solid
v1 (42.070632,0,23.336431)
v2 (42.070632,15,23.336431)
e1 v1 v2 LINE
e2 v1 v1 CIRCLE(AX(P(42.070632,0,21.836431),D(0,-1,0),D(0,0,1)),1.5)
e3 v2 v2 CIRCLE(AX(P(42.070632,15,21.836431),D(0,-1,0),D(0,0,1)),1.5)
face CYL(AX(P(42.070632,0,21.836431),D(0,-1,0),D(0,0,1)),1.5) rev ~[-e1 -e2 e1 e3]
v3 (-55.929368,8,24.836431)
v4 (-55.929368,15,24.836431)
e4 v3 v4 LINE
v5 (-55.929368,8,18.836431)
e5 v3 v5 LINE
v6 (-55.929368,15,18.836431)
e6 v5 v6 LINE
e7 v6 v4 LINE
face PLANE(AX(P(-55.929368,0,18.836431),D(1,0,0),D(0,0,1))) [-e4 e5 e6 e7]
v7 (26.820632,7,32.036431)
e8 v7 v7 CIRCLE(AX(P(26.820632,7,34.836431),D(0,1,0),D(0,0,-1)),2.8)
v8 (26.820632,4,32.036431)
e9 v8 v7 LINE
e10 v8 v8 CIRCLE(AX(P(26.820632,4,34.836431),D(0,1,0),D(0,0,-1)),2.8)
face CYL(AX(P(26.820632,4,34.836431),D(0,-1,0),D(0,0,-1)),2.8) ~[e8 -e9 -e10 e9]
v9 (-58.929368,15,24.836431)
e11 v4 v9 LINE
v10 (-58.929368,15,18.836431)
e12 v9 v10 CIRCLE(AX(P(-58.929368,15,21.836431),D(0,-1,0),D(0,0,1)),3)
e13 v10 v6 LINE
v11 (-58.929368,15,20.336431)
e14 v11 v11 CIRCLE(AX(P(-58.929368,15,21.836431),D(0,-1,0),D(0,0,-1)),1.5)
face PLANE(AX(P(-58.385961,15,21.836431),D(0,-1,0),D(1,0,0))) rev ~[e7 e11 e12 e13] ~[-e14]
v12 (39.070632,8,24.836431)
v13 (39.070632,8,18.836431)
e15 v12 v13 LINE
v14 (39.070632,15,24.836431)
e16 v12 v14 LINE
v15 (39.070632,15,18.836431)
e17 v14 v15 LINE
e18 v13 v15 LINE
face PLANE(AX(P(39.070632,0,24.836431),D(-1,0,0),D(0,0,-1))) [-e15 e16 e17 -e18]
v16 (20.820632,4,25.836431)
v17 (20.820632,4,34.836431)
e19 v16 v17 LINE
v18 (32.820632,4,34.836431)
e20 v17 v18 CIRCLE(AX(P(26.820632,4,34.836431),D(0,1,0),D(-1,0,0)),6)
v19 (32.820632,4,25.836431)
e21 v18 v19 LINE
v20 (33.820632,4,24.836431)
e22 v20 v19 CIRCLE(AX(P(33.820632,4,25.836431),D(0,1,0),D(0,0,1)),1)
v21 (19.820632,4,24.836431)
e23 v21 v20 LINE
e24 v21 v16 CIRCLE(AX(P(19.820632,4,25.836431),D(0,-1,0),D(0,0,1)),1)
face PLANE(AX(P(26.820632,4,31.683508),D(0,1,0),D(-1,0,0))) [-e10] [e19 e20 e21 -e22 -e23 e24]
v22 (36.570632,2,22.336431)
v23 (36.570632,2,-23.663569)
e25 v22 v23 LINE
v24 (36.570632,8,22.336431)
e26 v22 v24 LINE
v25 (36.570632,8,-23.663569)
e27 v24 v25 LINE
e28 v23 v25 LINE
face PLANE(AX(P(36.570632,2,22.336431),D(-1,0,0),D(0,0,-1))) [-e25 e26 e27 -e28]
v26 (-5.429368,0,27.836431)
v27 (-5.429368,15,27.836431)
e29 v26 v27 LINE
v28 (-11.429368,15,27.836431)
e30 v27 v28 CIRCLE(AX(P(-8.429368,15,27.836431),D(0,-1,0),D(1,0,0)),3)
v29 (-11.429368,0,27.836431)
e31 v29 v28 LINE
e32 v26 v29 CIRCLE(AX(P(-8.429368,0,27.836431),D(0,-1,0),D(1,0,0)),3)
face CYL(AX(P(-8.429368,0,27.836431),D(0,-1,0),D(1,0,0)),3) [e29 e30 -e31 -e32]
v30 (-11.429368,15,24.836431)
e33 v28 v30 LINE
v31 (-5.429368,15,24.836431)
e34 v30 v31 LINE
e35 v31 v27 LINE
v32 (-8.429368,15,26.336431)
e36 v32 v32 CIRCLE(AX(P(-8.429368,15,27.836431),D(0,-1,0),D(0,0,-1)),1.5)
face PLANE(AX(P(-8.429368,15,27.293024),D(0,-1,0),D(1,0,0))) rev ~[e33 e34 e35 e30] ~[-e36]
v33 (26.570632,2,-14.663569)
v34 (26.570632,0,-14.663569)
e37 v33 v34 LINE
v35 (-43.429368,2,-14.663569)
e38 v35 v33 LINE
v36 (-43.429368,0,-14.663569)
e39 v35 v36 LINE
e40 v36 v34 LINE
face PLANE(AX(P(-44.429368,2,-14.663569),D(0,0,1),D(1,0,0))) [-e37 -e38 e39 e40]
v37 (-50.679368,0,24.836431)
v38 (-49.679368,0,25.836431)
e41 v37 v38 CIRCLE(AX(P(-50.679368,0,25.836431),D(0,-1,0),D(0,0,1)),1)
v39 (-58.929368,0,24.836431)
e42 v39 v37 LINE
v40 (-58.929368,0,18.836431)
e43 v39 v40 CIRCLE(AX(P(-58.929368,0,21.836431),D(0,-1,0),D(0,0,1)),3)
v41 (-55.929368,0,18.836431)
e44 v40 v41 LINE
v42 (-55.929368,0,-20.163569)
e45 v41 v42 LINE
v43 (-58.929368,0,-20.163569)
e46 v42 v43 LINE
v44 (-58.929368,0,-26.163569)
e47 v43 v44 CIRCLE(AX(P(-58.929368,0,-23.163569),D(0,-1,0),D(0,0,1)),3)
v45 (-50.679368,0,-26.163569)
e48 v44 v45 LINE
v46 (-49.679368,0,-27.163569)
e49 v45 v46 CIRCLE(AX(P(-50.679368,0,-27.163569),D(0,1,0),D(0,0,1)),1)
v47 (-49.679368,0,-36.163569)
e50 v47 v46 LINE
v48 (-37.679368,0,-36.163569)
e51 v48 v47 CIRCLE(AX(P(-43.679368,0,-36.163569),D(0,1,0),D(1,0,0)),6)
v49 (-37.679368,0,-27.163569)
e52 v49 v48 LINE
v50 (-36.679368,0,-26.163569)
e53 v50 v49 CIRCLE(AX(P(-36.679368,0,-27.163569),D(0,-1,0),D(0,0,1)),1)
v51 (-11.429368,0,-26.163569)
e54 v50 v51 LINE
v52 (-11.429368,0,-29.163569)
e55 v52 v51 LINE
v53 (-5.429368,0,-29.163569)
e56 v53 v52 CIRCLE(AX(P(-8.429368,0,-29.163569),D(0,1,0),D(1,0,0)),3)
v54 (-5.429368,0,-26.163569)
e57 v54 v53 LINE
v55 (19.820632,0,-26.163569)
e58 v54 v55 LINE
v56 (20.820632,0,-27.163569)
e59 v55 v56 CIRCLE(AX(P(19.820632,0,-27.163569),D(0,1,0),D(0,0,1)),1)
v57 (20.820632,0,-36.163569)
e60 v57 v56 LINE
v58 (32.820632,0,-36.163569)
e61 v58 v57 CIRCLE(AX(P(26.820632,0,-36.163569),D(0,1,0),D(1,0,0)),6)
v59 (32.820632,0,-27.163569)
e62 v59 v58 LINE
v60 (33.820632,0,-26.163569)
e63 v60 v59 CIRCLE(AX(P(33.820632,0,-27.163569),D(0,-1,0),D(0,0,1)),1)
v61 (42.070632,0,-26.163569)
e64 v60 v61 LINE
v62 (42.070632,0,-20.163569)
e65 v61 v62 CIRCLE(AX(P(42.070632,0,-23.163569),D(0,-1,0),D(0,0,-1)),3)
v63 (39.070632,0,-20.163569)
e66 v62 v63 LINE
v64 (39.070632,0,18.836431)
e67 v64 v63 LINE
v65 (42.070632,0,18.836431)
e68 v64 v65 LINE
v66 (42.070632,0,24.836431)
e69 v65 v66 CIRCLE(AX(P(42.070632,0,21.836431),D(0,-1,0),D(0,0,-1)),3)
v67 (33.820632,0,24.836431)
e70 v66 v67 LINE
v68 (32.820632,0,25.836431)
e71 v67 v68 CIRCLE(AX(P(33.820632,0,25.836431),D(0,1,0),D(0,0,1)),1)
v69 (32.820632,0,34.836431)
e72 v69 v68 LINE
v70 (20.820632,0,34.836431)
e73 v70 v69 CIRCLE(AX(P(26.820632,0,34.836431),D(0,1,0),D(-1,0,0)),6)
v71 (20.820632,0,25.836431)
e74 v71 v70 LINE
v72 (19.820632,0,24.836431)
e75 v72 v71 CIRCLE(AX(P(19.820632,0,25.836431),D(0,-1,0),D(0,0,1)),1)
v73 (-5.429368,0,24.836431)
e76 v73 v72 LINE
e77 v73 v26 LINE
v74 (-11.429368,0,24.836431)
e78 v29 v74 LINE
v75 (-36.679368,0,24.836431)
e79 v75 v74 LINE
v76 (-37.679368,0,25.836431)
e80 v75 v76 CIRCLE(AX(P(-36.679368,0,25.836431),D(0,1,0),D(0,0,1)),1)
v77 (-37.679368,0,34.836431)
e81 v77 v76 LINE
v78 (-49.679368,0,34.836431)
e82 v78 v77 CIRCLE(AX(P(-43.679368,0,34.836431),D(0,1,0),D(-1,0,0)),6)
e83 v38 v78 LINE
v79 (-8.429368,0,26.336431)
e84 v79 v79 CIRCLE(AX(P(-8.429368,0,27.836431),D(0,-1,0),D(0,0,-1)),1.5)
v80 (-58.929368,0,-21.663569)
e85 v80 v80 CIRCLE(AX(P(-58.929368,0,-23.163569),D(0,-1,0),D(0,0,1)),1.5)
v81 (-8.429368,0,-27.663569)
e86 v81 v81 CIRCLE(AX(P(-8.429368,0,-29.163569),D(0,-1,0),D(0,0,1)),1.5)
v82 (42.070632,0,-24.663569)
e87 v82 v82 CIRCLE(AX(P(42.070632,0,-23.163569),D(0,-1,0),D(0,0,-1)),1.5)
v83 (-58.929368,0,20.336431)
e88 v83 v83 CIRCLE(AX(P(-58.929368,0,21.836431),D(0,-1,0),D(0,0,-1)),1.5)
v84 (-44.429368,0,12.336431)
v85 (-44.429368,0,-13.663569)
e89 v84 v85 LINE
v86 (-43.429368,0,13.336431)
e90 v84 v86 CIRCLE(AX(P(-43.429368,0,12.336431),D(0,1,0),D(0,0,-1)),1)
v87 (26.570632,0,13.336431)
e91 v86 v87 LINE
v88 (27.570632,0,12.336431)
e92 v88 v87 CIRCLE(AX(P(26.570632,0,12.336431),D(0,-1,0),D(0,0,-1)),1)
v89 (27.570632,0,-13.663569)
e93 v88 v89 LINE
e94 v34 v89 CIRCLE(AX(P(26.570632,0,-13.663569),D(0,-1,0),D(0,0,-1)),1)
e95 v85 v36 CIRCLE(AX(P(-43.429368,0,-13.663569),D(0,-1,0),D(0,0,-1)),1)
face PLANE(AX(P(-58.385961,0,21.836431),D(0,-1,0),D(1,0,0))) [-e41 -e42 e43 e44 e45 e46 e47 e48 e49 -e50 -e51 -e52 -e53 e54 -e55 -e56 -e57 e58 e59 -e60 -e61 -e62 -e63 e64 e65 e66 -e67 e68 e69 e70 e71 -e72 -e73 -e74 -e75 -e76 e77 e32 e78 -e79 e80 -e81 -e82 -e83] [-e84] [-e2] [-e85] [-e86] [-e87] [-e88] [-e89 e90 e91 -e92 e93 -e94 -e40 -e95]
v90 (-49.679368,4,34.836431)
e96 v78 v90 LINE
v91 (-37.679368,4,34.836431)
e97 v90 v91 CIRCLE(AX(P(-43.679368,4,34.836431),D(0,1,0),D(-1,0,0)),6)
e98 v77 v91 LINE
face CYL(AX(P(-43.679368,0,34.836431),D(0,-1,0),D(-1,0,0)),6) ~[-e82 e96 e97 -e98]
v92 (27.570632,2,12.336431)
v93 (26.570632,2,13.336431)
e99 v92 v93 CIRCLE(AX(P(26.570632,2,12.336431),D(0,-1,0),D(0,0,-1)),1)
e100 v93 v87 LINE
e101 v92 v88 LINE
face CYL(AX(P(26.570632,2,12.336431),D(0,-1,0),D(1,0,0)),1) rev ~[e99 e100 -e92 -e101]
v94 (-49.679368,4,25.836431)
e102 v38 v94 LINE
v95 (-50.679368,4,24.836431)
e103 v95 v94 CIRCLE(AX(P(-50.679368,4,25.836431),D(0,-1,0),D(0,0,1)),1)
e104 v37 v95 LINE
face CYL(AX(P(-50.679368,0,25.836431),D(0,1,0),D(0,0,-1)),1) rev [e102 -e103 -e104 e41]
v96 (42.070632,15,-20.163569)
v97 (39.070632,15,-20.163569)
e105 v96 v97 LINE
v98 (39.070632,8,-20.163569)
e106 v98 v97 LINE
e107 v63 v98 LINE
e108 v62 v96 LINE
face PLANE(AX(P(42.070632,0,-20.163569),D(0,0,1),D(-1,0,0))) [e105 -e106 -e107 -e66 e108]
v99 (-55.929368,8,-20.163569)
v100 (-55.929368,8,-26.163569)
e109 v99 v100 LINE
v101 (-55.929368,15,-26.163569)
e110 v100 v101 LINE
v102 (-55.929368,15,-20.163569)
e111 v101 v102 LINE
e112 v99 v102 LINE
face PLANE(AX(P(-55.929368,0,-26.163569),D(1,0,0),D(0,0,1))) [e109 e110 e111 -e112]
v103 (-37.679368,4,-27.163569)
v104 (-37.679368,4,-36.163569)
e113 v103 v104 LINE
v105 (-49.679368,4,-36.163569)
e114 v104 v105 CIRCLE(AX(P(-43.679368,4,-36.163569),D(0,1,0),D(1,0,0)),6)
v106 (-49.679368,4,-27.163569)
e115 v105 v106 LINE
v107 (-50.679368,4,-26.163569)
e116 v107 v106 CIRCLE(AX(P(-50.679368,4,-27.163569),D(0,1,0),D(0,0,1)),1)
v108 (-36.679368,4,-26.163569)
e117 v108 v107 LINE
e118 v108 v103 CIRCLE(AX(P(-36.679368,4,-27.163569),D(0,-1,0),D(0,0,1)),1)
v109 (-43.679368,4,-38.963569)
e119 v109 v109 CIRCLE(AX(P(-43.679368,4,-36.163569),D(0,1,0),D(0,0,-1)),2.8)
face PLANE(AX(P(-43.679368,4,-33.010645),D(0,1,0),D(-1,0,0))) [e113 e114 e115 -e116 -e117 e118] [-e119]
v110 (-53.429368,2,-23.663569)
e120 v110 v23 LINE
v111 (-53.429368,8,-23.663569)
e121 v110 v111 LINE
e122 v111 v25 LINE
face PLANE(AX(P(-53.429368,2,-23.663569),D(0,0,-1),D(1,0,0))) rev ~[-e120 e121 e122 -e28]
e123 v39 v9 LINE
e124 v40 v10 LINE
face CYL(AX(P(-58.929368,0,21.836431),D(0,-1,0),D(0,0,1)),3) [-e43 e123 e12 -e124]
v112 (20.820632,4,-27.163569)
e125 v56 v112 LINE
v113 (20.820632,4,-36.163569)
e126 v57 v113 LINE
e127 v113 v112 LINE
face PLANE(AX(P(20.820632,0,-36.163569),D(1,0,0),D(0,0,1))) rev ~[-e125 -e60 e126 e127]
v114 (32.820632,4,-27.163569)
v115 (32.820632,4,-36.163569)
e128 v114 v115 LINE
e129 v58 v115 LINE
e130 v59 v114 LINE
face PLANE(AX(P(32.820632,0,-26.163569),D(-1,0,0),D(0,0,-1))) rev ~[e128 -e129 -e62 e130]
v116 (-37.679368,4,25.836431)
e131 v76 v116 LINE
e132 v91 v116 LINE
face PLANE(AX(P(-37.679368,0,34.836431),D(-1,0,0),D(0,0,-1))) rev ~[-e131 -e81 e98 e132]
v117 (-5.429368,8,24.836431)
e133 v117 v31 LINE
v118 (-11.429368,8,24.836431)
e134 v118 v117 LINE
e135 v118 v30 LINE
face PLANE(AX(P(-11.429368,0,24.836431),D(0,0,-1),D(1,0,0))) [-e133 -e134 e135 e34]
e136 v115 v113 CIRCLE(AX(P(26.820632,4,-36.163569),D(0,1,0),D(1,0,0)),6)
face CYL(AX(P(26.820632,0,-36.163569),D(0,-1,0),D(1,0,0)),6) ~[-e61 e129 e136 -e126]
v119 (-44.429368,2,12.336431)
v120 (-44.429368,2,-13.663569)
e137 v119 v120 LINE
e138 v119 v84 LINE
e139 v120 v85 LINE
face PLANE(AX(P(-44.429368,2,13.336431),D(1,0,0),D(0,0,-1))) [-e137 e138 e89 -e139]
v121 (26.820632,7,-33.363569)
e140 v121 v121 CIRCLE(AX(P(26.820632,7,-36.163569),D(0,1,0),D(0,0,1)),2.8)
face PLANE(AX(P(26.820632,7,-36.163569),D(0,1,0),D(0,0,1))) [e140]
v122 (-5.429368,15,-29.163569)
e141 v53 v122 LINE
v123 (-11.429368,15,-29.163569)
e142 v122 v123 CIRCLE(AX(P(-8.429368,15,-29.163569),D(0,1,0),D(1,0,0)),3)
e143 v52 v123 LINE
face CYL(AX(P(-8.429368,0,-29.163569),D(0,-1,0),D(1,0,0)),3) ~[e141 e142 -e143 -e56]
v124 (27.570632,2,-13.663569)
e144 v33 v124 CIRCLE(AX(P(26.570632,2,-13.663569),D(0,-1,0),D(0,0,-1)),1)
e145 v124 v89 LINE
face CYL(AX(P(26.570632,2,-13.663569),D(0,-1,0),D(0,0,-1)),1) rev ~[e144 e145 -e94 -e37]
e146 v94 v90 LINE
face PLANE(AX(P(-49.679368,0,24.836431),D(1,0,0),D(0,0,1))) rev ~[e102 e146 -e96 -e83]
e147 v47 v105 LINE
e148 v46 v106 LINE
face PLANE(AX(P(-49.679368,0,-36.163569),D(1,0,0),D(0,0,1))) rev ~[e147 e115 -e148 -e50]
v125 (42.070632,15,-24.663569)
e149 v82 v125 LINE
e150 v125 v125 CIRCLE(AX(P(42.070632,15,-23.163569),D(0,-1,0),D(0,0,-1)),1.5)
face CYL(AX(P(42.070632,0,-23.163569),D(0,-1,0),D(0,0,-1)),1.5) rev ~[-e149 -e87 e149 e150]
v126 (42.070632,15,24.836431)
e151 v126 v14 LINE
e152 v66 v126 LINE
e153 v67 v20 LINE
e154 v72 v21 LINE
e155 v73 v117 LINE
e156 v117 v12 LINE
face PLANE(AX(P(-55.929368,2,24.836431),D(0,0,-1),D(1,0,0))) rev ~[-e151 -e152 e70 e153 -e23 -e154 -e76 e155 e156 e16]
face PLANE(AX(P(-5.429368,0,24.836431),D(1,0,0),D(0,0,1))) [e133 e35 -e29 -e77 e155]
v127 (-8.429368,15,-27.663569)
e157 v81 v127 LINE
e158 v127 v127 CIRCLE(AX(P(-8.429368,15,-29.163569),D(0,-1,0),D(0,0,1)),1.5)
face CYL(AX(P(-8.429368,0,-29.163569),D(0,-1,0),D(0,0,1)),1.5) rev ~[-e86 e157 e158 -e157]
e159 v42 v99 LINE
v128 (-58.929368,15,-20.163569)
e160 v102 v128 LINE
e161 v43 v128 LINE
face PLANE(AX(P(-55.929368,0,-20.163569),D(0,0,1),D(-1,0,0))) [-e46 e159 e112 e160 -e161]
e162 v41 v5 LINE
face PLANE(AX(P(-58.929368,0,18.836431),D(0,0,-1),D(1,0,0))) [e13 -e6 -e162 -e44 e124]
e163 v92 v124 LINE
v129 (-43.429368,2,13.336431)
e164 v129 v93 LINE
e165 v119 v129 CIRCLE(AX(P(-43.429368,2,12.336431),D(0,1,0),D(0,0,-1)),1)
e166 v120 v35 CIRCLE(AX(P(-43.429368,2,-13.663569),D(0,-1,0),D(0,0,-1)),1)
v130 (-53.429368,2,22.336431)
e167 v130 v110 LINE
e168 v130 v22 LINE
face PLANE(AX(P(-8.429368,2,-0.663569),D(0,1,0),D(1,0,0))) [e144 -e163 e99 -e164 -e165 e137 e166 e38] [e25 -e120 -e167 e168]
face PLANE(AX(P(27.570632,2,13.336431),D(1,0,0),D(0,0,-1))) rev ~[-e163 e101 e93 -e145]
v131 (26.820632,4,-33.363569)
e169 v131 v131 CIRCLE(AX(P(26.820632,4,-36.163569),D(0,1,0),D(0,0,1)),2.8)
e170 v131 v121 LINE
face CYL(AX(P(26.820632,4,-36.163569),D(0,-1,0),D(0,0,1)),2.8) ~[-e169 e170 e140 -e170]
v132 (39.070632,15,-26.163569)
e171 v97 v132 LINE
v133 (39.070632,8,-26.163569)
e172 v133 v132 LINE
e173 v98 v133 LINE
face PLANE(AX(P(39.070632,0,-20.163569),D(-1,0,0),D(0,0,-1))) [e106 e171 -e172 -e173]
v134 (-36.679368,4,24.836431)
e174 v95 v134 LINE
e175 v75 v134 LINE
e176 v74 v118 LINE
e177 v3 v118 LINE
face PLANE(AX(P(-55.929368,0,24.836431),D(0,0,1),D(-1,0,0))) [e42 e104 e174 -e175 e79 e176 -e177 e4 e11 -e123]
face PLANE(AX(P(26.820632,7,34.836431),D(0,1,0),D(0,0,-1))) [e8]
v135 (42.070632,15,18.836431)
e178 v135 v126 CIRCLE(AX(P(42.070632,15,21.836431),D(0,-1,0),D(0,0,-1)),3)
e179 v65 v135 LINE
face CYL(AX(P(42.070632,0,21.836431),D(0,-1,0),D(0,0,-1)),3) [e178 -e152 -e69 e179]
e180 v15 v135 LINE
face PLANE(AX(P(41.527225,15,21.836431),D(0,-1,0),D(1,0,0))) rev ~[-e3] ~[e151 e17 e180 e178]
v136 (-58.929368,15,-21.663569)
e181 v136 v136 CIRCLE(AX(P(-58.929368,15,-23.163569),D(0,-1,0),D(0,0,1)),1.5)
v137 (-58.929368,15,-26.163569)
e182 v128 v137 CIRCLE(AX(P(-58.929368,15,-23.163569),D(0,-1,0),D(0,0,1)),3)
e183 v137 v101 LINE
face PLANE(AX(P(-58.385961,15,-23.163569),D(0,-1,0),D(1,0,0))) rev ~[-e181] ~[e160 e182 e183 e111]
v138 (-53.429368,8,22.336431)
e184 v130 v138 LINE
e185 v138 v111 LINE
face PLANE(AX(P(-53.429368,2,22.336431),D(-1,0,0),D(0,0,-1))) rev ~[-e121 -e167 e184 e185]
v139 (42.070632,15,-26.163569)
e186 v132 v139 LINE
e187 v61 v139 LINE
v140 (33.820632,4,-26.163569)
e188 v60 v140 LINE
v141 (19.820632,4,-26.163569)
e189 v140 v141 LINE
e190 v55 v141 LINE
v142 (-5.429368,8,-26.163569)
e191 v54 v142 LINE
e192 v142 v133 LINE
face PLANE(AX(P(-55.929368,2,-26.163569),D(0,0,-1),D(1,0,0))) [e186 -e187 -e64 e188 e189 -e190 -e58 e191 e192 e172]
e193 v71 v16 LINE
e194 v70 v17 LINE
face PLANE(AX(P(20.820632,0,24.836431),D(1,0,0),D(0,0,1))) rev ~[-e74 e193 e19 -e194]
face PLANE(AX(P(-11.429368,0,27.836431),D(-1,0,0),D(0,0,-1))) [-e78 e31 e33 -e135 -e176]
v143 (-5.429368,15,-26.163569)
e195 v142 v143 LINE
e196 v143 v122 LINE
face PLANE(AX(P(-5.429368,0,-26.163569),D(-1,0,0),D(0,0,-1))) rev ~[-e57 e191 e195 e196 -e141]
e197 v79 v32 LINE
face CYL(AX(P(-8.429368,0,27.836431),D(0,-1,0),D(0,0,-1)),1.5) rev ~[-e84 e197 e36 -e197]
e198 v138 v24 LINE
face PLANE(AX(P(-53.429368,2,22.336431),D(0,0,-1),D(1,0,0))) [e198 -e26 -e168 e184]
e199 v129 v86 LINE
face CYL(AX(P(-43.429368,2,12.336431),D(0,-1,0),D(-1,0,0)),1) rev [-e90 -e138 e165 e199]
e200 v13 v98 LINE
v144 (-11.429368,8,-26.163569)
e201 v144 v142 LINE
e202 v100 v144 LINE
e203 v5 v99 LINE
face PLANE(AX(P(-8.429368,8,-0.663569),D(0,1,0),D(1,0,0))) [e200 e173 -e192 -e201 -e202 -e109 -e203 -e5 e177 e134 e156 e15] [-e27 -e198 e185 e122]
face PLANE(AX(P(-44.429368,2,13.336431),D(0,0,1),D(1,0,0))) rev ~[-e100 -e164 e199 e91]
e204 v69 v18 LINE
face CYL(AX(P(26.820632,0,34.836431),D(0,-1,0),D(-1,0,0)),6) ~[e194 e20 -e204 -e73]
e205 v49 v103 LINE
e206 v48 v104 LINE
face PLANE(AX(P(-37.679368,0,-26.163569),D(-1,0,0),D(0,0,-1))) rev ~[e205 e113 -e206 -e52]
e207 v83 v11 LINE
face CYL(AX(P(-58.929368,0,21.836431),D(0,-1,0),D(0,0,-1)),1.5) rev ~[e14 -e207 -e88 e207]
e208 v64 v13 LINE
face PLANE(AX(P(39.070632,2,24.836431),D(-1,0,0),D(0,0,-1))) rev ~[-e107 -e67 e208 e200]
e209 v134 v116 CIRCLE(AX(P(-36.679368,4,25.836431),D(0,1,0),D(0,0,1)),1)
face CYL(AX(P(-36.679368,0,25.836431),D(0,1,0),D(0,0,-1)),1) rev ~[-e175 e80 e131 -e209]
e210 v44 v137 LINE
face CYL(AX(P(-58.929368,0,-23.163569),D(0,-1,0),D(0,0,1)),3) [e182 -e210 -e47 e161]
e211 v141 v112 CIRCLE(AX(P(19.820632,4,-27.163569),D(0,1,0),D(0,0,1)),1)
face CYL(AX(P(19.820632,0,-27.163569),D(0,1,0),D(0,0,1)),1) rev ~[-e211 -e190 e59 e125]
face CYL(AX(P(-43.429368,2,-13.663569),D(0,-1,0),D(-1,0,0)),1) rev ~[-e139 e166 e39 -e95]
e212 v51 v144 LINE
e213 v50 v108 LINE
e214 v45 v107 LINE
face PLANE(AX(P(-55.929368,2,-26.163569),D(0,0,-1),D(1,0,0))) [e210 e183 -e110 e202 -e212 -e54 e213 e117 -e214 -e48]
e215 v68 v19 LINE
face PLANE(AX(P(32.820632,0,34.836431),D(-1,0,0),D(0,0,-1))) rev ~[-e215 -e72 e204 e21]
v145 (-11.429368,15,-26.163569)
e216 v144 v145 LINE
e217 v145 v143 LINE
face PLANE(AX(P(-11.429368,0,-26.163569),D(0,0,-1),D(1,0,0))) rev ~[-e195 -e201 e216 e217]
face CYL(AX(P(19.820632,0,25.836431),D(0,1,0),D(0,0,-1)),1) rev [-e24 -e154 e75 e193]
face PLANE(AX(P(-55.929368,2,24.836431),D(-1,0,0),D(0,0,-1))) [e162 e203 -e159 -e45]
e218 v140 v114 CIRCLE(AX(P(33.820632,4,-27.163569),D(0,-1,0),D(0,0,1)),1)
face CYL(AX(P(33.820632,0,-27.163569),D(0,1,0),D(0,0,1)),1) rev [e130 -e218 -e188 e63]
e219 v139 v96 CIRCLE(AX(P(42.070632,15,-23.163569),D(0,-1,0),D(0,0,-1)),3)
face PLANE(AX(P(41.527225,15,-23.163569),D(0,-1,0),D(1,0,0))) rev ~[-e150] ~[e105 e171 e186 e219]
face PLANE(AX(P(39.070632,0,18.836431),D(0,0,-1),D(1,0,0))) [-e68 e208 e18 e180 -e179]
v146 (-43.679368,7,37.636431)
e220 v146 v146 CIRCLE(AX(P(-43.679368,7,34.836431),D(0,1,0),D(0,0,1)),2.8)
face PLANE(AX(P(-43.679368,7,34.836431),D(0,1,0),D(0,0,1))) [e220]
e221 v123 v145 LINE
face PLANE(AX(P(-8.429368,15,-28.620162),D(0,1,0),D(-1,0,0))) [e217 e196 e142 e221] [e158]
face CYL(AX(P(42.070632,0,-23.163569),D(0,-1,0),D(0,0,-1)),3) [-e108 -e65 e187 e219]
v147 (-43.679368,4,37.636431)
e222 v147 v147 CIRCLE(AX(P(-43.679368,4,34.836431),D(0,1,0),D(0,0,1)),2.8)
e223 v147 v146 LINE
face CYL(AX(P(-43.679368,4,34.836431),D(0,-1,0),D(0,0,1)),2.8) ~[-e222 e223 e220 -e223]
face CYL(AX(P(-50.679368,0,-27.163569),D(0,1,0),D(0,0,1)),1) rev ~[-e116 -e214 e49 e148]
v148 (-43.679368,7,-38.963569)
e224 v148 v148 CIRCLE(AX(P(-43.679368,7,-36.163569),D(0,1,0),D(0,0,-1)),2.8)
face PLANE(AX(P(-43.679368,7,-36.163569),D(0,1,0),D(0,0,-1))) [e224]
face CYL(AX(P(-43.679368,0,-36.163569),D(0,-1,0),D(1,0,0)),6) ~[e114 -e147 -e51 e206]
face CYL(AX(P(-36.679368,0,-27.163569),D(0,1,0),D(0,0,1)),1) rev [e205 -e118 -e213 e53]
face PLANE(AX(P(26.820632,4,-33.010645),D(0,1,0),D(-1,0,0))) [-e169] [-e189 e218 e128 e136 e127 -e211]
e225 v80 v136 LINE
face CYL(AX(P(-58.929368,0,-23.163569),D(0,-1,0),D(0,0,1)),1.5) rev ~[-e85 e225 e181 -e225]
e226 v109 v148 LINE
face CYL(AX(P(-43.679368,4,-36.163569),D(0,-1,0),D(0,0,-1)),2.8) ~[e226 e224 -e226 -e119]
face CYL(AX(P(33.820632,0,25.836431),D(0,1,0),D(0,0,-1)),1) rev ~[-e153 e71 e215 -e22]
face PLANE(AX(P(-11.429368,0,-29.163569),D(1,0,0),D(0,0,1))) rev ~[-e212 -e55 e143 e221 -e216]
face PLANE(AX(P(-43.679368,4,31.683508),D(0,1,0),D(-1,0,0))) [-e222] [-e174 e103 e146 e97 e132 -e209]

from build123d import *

# Parameters (mm, degrees)
SKETCH1_W           = 95
SKETCH1_H           = 51
BOSS_EXTRUDE1_DEPTH = 2
SKETCH2_W           = 95
SKETCH2_H           = 51
SKETCH2_W_2         = 90
SKETCH2_H_2         = 46
BOSS_EXTRUDE2_DEPTH = 6
SKETCH3_W           = 72
SKETCH3_H           = 28
CUT_EXTRUDE1_DEPTH  = 63.03729958
BOSS_EXTRUDE3_DEPTH = 4
SKETCH6_R           = 2.8
BOSS_EXTRUDE4_DEPTH = 3
SKETCH8_R           = 1.5
BOSS_EXTRUDE6_DEPTH = 15
FILLET1_R           = 1


with BuildPart() as part:
    # Sketch1 → Boss-Extrude1 (new body)
    with BuildSketch(Plane(origin=(0, 0, 0), x_dir=(1, 0, 0), z_dir=(0, 1, 0))):
        with Locations((-8.42936803, 0.663568773)):
            Rectangle(SKETCH1_W, SKETCH1_H)
    extrude(amount=BOSS_EXTRUDE1_DEPTH)

    # Sketch2 → Boss-Extrude2 (add)
    with BuildSketch(Plane(origin=(0, 2, 0), x_dir=(1, 0, 0), z_dir=(0, 1, 0))):
        with Locations((-8.42936803, 0.663568773)):
            Rectangle(SKETCH2_W, SKETCH2_H)
        with Locations((-8.42936803, 0.663568773)):
            Rectangle(SKETCH2_W_2, SKETCH2_H_2, mode=Mode.SUBTRACT)
    extrude(amount=BOSS_EXTRUDE2_DEPTH)

    # Sketch3 → Cut-Extrude1 (cut, through all)
    with BuildSketch(Plane(origin=(0, 2, 0), x_dir=(1, 0, 0), z_dir=(0, 1, 0))):
        with Locations((-8.42936803, 0.663568773)):
            Rectangle(SKETCH3_W, SKETCH3_H)
    extrude(amount=-CUT_EXTRUDE1_DEPTH, mode=Mode.SUBTRACT)

    # Sketch5 → Boss-Extrude3 (add)
    with BuildSketch(Plane.XZ):
        with BuildLine():
            Line((-49.67936803, -26.163568773), (-37.67936803, -26.163568773))
            Line((-37.67936803, -26.163568773), (-37.67936803, -36.163568773))
            ThreePointArc((-37.67936803, -36.163568773), (-43.67936803, -42.163568773), (-49.67936803, -36.163568773))
            Line((-49.67936803, -36.163568773), (-49.67936803, -26.163568773))
        make_face()
        with BuildLine():
            Line((-49.67936803, 24.836431227), (-49.67936803, 34.836431227))
            ThreePointArc((-49.67936803, 34.836431227), (-43.67936803, 40.836431227), (-37.67936803, 34.836431227))
            Line((-37.67936803, 34.836431227), (-37.67936803, 24.836431227))
            Line((-37.67936803, 24.836431227), (-49.67936803, 24.836431227))
        make_face()
        with BuildLine():
            Line((32.82063197, -26.163568773), (32.82063197, -36.163568773))
            ThreePointArc((32.82063197, -36.163568773), (26.82063197, -42.163568773), (20.82063197, -36.163568773))
            Line((20.82063197, -36.163568773), (20.82063197, -26.163568773))
            Line((20.82063197, -26.163568773), (32.82063197, -26.163568773))
        make_face()
        with BuildLine():
            Line((32.82063197, 24.836431227), (20.82063197, 24.836431227))
            Line((20.82063197, 24.836431227), (20.82063197, 34.836431227))
            ThreePointArc((20.82063197, 34.836431227), (26.82063197, 40.836431227), (32.82063197, 34.836431227))
            Line((32.82063197, 34.836431227), (32.82063197, 24.836431227))
        make_face()
    extrude(amount=-BOSS_EXTRUDE3_DEPTH)

    # Sketch6 → Boss-Extrude4 (add)
    with BuildSketch(Plane(origin=(0, 4, 0), x_dir=(1, 0, 0), z_dir=(0, 1, 0))):
        with Locations(Location((-43.67936803, 36.163568773, 0), (0, 0, 90))):
            Circle(SKETCH6_R)
        with Locations(Location((26.82063197, 36.163568773, 0), (0, 0, 270))):
            Circle(SKETCH6_R)
        with Locations(Location((26.82063197, -34.836431227, 0), (0, 0, 90))):
            Circle(SKETCH6_R)
        with Locations(Location((-43.67936803, -34.836431227, 0), (0, 0, 270))):
            Circle(SKETCH6_R)
    extrude(amount=BOSS_EXTRUDE4_DEPTH)

    # Sketch8 → Boss-Extrude6 (add)
    # profile 1 of 6: a face of its own
    with BuildSketch(Plane.XZ):
        with BuildLine():
            Line((-55.92936803, 24.836431227), (-58.92936803, 24.836431227))
            ThreePointArc((-58.92936803, 24.836431227), (-61.92936803, 21.836431227), (-58.92936803, 18.836431227))
            Line((-58.92936803, 18.836431227), (-55.92936803, 18.836431227))
            Line((-55.92936803, 18.836431227), (-55.92936803, 24.836431227))
        make_face()
        with Locations(Location((-58.92936803, 21.836431227, 0), (0, 0, 270))):
            Circle(SKETCH8_R, mode=Mode.SUBTRACT)
    # profile 2 of 6: a face of its own
    with BuildSketch(Plane.XZ):
        with BuildLine():
            Line((-5.42936803, -26.163568773), (-5.42936803, -29.163568773))
            ThreePointArc((-5.42936803, -29.163568773), (-8.42936803, -32.163568773), (-11.42936803, -29.163568773))
            Line((-11.42936803, -29.163568773), (-11.42936803, -26.163568773))
            Line((-11.42936803, -26.163568773), (-5.42936803, -26.163568773))
        make_face()
        with Locations(Location((-8.42936803, -29.163568773, 0), (0, 0, 90))):
            Circle(SKETCH8_R, mode=Mode.SUBTRACT)
    # profile 3 of 6: a face of its own
    with BuildSketch(Plane.XZ):
        with BuildLine():
            Line((-55.92936803, -20.163568773), (-58.92936803, -20.163568773))
            ThreePointArc((-58.92936803, -20.163568773), (-61.92936803, -23.163568773), (-58.92936803, -26.163568773))
            Line((-58.92936803, -26.163568773), (-55.92936803, -26.163568773))
            Line((-55.92936803, -26.163568773), (-55.92936803, -20.163568773))
        make_face()
        with Locations(Location((-58.92936803, -23.163568773, 0), (0, 0, 90))):
            Circle(SKETCH8_R, mode=Mode.SUBTRACT)
    # profile 4 of 6: a face of its own
    with BuildSketch(Plane.XZ):
        with BuildLine():
            Line((39.07063197, -26.163568773), (42.07063197, -26.163568773))
            ThreePointArc((42.07063197, -26.163568773), (45.07063197, -23.163568773), (42.07063197, -20.163568773))
            Line((42.07063197, -20.163568773), (39.07063197, -20.163568773))
            Line((39.07063197, -20.163568773), (39.07063197, -26.163568773))
        make_face()
        with Locations(Location((42.07063197, -23.163568773, 0), (0, 0, 270))):
            Circle(SKETCH8_R, mode=Mode.SUBTRACT)
    # profile 5 of 6: a face of its own
    with BuildSketch(Plane.XZ):
        with BuildLine():
            Line((39.07063197, 18.836431227), (42.07063197, 18.836431227))
            ThreePointArc((42.07063197, 18.836431227), (45.07063197, 21.836431227), (42.07063197, 24.836431227))
            Line((42.07063197, 24.836431227), (39.07063197, 24.836431227))
            Line((39.07063197, 24.836431227), (39.07063197, 18.836431227))
        make_face()
        with Locations(Location((42.07063197, 21.836431227, 0), (0, 0, 90))):
            Circle(SKETCH8_R, mode=Mode.SUBTRACT)
    # profile 6 of 6: a face of its own
    with BuildSketch(Plane.XZ):
        with BuildLine():
            Line((-11.42936803, 24.836431227), (-5.42936803, 24.836431227))
            Line((-5.42936803, 24.836431227), (-5.42936803, 27.836431227))
            ThreePointArc((-5.42936803, 27.836431227), (-8.42936803, 30.836431227), (-11.42936803, 27.836431227))
            Line((-11.42936803, 27.836431227), (-11.42936803, 24.836431227))
        make_face()
        with Locations(Location((-8.42936803, 27.836431227, 0), (0, 0, 270))):
            Circle(SKETCH8_R, mode=Mode.SUBTRACT)
    extrude(amount=-BOSS_EXTRUDE6_DEPTH)

    # Fillet1
    fillet1_edges = [part.edges().sort_by_distance(p)[0] for p in [
        (-44.42936803, 1, 13.336431227),
        (-44.42936803, 1, -14.663568773),
        (27.57063197, 1, -14.663568773),
        (27.57063197, 1, 13.336431227),
        (-49.67936803, 2, -26.163568773),
        (-37.67936803, 2, -26.163568773),
        (-37.67936803, 2, 24.836431227),
        (-49.67936803, 2, 24.836431227),
        (20.82063197, 2, -26.163568773),
        (32.82063197, 2, -26.163568773),
        (32.82063197, 2, 24.836431227),
        (20.82063197, 2, 24.836431227),
    ]]
    fillet(fillet1_edges, radius=FILLET1_R)


solid = part.part
